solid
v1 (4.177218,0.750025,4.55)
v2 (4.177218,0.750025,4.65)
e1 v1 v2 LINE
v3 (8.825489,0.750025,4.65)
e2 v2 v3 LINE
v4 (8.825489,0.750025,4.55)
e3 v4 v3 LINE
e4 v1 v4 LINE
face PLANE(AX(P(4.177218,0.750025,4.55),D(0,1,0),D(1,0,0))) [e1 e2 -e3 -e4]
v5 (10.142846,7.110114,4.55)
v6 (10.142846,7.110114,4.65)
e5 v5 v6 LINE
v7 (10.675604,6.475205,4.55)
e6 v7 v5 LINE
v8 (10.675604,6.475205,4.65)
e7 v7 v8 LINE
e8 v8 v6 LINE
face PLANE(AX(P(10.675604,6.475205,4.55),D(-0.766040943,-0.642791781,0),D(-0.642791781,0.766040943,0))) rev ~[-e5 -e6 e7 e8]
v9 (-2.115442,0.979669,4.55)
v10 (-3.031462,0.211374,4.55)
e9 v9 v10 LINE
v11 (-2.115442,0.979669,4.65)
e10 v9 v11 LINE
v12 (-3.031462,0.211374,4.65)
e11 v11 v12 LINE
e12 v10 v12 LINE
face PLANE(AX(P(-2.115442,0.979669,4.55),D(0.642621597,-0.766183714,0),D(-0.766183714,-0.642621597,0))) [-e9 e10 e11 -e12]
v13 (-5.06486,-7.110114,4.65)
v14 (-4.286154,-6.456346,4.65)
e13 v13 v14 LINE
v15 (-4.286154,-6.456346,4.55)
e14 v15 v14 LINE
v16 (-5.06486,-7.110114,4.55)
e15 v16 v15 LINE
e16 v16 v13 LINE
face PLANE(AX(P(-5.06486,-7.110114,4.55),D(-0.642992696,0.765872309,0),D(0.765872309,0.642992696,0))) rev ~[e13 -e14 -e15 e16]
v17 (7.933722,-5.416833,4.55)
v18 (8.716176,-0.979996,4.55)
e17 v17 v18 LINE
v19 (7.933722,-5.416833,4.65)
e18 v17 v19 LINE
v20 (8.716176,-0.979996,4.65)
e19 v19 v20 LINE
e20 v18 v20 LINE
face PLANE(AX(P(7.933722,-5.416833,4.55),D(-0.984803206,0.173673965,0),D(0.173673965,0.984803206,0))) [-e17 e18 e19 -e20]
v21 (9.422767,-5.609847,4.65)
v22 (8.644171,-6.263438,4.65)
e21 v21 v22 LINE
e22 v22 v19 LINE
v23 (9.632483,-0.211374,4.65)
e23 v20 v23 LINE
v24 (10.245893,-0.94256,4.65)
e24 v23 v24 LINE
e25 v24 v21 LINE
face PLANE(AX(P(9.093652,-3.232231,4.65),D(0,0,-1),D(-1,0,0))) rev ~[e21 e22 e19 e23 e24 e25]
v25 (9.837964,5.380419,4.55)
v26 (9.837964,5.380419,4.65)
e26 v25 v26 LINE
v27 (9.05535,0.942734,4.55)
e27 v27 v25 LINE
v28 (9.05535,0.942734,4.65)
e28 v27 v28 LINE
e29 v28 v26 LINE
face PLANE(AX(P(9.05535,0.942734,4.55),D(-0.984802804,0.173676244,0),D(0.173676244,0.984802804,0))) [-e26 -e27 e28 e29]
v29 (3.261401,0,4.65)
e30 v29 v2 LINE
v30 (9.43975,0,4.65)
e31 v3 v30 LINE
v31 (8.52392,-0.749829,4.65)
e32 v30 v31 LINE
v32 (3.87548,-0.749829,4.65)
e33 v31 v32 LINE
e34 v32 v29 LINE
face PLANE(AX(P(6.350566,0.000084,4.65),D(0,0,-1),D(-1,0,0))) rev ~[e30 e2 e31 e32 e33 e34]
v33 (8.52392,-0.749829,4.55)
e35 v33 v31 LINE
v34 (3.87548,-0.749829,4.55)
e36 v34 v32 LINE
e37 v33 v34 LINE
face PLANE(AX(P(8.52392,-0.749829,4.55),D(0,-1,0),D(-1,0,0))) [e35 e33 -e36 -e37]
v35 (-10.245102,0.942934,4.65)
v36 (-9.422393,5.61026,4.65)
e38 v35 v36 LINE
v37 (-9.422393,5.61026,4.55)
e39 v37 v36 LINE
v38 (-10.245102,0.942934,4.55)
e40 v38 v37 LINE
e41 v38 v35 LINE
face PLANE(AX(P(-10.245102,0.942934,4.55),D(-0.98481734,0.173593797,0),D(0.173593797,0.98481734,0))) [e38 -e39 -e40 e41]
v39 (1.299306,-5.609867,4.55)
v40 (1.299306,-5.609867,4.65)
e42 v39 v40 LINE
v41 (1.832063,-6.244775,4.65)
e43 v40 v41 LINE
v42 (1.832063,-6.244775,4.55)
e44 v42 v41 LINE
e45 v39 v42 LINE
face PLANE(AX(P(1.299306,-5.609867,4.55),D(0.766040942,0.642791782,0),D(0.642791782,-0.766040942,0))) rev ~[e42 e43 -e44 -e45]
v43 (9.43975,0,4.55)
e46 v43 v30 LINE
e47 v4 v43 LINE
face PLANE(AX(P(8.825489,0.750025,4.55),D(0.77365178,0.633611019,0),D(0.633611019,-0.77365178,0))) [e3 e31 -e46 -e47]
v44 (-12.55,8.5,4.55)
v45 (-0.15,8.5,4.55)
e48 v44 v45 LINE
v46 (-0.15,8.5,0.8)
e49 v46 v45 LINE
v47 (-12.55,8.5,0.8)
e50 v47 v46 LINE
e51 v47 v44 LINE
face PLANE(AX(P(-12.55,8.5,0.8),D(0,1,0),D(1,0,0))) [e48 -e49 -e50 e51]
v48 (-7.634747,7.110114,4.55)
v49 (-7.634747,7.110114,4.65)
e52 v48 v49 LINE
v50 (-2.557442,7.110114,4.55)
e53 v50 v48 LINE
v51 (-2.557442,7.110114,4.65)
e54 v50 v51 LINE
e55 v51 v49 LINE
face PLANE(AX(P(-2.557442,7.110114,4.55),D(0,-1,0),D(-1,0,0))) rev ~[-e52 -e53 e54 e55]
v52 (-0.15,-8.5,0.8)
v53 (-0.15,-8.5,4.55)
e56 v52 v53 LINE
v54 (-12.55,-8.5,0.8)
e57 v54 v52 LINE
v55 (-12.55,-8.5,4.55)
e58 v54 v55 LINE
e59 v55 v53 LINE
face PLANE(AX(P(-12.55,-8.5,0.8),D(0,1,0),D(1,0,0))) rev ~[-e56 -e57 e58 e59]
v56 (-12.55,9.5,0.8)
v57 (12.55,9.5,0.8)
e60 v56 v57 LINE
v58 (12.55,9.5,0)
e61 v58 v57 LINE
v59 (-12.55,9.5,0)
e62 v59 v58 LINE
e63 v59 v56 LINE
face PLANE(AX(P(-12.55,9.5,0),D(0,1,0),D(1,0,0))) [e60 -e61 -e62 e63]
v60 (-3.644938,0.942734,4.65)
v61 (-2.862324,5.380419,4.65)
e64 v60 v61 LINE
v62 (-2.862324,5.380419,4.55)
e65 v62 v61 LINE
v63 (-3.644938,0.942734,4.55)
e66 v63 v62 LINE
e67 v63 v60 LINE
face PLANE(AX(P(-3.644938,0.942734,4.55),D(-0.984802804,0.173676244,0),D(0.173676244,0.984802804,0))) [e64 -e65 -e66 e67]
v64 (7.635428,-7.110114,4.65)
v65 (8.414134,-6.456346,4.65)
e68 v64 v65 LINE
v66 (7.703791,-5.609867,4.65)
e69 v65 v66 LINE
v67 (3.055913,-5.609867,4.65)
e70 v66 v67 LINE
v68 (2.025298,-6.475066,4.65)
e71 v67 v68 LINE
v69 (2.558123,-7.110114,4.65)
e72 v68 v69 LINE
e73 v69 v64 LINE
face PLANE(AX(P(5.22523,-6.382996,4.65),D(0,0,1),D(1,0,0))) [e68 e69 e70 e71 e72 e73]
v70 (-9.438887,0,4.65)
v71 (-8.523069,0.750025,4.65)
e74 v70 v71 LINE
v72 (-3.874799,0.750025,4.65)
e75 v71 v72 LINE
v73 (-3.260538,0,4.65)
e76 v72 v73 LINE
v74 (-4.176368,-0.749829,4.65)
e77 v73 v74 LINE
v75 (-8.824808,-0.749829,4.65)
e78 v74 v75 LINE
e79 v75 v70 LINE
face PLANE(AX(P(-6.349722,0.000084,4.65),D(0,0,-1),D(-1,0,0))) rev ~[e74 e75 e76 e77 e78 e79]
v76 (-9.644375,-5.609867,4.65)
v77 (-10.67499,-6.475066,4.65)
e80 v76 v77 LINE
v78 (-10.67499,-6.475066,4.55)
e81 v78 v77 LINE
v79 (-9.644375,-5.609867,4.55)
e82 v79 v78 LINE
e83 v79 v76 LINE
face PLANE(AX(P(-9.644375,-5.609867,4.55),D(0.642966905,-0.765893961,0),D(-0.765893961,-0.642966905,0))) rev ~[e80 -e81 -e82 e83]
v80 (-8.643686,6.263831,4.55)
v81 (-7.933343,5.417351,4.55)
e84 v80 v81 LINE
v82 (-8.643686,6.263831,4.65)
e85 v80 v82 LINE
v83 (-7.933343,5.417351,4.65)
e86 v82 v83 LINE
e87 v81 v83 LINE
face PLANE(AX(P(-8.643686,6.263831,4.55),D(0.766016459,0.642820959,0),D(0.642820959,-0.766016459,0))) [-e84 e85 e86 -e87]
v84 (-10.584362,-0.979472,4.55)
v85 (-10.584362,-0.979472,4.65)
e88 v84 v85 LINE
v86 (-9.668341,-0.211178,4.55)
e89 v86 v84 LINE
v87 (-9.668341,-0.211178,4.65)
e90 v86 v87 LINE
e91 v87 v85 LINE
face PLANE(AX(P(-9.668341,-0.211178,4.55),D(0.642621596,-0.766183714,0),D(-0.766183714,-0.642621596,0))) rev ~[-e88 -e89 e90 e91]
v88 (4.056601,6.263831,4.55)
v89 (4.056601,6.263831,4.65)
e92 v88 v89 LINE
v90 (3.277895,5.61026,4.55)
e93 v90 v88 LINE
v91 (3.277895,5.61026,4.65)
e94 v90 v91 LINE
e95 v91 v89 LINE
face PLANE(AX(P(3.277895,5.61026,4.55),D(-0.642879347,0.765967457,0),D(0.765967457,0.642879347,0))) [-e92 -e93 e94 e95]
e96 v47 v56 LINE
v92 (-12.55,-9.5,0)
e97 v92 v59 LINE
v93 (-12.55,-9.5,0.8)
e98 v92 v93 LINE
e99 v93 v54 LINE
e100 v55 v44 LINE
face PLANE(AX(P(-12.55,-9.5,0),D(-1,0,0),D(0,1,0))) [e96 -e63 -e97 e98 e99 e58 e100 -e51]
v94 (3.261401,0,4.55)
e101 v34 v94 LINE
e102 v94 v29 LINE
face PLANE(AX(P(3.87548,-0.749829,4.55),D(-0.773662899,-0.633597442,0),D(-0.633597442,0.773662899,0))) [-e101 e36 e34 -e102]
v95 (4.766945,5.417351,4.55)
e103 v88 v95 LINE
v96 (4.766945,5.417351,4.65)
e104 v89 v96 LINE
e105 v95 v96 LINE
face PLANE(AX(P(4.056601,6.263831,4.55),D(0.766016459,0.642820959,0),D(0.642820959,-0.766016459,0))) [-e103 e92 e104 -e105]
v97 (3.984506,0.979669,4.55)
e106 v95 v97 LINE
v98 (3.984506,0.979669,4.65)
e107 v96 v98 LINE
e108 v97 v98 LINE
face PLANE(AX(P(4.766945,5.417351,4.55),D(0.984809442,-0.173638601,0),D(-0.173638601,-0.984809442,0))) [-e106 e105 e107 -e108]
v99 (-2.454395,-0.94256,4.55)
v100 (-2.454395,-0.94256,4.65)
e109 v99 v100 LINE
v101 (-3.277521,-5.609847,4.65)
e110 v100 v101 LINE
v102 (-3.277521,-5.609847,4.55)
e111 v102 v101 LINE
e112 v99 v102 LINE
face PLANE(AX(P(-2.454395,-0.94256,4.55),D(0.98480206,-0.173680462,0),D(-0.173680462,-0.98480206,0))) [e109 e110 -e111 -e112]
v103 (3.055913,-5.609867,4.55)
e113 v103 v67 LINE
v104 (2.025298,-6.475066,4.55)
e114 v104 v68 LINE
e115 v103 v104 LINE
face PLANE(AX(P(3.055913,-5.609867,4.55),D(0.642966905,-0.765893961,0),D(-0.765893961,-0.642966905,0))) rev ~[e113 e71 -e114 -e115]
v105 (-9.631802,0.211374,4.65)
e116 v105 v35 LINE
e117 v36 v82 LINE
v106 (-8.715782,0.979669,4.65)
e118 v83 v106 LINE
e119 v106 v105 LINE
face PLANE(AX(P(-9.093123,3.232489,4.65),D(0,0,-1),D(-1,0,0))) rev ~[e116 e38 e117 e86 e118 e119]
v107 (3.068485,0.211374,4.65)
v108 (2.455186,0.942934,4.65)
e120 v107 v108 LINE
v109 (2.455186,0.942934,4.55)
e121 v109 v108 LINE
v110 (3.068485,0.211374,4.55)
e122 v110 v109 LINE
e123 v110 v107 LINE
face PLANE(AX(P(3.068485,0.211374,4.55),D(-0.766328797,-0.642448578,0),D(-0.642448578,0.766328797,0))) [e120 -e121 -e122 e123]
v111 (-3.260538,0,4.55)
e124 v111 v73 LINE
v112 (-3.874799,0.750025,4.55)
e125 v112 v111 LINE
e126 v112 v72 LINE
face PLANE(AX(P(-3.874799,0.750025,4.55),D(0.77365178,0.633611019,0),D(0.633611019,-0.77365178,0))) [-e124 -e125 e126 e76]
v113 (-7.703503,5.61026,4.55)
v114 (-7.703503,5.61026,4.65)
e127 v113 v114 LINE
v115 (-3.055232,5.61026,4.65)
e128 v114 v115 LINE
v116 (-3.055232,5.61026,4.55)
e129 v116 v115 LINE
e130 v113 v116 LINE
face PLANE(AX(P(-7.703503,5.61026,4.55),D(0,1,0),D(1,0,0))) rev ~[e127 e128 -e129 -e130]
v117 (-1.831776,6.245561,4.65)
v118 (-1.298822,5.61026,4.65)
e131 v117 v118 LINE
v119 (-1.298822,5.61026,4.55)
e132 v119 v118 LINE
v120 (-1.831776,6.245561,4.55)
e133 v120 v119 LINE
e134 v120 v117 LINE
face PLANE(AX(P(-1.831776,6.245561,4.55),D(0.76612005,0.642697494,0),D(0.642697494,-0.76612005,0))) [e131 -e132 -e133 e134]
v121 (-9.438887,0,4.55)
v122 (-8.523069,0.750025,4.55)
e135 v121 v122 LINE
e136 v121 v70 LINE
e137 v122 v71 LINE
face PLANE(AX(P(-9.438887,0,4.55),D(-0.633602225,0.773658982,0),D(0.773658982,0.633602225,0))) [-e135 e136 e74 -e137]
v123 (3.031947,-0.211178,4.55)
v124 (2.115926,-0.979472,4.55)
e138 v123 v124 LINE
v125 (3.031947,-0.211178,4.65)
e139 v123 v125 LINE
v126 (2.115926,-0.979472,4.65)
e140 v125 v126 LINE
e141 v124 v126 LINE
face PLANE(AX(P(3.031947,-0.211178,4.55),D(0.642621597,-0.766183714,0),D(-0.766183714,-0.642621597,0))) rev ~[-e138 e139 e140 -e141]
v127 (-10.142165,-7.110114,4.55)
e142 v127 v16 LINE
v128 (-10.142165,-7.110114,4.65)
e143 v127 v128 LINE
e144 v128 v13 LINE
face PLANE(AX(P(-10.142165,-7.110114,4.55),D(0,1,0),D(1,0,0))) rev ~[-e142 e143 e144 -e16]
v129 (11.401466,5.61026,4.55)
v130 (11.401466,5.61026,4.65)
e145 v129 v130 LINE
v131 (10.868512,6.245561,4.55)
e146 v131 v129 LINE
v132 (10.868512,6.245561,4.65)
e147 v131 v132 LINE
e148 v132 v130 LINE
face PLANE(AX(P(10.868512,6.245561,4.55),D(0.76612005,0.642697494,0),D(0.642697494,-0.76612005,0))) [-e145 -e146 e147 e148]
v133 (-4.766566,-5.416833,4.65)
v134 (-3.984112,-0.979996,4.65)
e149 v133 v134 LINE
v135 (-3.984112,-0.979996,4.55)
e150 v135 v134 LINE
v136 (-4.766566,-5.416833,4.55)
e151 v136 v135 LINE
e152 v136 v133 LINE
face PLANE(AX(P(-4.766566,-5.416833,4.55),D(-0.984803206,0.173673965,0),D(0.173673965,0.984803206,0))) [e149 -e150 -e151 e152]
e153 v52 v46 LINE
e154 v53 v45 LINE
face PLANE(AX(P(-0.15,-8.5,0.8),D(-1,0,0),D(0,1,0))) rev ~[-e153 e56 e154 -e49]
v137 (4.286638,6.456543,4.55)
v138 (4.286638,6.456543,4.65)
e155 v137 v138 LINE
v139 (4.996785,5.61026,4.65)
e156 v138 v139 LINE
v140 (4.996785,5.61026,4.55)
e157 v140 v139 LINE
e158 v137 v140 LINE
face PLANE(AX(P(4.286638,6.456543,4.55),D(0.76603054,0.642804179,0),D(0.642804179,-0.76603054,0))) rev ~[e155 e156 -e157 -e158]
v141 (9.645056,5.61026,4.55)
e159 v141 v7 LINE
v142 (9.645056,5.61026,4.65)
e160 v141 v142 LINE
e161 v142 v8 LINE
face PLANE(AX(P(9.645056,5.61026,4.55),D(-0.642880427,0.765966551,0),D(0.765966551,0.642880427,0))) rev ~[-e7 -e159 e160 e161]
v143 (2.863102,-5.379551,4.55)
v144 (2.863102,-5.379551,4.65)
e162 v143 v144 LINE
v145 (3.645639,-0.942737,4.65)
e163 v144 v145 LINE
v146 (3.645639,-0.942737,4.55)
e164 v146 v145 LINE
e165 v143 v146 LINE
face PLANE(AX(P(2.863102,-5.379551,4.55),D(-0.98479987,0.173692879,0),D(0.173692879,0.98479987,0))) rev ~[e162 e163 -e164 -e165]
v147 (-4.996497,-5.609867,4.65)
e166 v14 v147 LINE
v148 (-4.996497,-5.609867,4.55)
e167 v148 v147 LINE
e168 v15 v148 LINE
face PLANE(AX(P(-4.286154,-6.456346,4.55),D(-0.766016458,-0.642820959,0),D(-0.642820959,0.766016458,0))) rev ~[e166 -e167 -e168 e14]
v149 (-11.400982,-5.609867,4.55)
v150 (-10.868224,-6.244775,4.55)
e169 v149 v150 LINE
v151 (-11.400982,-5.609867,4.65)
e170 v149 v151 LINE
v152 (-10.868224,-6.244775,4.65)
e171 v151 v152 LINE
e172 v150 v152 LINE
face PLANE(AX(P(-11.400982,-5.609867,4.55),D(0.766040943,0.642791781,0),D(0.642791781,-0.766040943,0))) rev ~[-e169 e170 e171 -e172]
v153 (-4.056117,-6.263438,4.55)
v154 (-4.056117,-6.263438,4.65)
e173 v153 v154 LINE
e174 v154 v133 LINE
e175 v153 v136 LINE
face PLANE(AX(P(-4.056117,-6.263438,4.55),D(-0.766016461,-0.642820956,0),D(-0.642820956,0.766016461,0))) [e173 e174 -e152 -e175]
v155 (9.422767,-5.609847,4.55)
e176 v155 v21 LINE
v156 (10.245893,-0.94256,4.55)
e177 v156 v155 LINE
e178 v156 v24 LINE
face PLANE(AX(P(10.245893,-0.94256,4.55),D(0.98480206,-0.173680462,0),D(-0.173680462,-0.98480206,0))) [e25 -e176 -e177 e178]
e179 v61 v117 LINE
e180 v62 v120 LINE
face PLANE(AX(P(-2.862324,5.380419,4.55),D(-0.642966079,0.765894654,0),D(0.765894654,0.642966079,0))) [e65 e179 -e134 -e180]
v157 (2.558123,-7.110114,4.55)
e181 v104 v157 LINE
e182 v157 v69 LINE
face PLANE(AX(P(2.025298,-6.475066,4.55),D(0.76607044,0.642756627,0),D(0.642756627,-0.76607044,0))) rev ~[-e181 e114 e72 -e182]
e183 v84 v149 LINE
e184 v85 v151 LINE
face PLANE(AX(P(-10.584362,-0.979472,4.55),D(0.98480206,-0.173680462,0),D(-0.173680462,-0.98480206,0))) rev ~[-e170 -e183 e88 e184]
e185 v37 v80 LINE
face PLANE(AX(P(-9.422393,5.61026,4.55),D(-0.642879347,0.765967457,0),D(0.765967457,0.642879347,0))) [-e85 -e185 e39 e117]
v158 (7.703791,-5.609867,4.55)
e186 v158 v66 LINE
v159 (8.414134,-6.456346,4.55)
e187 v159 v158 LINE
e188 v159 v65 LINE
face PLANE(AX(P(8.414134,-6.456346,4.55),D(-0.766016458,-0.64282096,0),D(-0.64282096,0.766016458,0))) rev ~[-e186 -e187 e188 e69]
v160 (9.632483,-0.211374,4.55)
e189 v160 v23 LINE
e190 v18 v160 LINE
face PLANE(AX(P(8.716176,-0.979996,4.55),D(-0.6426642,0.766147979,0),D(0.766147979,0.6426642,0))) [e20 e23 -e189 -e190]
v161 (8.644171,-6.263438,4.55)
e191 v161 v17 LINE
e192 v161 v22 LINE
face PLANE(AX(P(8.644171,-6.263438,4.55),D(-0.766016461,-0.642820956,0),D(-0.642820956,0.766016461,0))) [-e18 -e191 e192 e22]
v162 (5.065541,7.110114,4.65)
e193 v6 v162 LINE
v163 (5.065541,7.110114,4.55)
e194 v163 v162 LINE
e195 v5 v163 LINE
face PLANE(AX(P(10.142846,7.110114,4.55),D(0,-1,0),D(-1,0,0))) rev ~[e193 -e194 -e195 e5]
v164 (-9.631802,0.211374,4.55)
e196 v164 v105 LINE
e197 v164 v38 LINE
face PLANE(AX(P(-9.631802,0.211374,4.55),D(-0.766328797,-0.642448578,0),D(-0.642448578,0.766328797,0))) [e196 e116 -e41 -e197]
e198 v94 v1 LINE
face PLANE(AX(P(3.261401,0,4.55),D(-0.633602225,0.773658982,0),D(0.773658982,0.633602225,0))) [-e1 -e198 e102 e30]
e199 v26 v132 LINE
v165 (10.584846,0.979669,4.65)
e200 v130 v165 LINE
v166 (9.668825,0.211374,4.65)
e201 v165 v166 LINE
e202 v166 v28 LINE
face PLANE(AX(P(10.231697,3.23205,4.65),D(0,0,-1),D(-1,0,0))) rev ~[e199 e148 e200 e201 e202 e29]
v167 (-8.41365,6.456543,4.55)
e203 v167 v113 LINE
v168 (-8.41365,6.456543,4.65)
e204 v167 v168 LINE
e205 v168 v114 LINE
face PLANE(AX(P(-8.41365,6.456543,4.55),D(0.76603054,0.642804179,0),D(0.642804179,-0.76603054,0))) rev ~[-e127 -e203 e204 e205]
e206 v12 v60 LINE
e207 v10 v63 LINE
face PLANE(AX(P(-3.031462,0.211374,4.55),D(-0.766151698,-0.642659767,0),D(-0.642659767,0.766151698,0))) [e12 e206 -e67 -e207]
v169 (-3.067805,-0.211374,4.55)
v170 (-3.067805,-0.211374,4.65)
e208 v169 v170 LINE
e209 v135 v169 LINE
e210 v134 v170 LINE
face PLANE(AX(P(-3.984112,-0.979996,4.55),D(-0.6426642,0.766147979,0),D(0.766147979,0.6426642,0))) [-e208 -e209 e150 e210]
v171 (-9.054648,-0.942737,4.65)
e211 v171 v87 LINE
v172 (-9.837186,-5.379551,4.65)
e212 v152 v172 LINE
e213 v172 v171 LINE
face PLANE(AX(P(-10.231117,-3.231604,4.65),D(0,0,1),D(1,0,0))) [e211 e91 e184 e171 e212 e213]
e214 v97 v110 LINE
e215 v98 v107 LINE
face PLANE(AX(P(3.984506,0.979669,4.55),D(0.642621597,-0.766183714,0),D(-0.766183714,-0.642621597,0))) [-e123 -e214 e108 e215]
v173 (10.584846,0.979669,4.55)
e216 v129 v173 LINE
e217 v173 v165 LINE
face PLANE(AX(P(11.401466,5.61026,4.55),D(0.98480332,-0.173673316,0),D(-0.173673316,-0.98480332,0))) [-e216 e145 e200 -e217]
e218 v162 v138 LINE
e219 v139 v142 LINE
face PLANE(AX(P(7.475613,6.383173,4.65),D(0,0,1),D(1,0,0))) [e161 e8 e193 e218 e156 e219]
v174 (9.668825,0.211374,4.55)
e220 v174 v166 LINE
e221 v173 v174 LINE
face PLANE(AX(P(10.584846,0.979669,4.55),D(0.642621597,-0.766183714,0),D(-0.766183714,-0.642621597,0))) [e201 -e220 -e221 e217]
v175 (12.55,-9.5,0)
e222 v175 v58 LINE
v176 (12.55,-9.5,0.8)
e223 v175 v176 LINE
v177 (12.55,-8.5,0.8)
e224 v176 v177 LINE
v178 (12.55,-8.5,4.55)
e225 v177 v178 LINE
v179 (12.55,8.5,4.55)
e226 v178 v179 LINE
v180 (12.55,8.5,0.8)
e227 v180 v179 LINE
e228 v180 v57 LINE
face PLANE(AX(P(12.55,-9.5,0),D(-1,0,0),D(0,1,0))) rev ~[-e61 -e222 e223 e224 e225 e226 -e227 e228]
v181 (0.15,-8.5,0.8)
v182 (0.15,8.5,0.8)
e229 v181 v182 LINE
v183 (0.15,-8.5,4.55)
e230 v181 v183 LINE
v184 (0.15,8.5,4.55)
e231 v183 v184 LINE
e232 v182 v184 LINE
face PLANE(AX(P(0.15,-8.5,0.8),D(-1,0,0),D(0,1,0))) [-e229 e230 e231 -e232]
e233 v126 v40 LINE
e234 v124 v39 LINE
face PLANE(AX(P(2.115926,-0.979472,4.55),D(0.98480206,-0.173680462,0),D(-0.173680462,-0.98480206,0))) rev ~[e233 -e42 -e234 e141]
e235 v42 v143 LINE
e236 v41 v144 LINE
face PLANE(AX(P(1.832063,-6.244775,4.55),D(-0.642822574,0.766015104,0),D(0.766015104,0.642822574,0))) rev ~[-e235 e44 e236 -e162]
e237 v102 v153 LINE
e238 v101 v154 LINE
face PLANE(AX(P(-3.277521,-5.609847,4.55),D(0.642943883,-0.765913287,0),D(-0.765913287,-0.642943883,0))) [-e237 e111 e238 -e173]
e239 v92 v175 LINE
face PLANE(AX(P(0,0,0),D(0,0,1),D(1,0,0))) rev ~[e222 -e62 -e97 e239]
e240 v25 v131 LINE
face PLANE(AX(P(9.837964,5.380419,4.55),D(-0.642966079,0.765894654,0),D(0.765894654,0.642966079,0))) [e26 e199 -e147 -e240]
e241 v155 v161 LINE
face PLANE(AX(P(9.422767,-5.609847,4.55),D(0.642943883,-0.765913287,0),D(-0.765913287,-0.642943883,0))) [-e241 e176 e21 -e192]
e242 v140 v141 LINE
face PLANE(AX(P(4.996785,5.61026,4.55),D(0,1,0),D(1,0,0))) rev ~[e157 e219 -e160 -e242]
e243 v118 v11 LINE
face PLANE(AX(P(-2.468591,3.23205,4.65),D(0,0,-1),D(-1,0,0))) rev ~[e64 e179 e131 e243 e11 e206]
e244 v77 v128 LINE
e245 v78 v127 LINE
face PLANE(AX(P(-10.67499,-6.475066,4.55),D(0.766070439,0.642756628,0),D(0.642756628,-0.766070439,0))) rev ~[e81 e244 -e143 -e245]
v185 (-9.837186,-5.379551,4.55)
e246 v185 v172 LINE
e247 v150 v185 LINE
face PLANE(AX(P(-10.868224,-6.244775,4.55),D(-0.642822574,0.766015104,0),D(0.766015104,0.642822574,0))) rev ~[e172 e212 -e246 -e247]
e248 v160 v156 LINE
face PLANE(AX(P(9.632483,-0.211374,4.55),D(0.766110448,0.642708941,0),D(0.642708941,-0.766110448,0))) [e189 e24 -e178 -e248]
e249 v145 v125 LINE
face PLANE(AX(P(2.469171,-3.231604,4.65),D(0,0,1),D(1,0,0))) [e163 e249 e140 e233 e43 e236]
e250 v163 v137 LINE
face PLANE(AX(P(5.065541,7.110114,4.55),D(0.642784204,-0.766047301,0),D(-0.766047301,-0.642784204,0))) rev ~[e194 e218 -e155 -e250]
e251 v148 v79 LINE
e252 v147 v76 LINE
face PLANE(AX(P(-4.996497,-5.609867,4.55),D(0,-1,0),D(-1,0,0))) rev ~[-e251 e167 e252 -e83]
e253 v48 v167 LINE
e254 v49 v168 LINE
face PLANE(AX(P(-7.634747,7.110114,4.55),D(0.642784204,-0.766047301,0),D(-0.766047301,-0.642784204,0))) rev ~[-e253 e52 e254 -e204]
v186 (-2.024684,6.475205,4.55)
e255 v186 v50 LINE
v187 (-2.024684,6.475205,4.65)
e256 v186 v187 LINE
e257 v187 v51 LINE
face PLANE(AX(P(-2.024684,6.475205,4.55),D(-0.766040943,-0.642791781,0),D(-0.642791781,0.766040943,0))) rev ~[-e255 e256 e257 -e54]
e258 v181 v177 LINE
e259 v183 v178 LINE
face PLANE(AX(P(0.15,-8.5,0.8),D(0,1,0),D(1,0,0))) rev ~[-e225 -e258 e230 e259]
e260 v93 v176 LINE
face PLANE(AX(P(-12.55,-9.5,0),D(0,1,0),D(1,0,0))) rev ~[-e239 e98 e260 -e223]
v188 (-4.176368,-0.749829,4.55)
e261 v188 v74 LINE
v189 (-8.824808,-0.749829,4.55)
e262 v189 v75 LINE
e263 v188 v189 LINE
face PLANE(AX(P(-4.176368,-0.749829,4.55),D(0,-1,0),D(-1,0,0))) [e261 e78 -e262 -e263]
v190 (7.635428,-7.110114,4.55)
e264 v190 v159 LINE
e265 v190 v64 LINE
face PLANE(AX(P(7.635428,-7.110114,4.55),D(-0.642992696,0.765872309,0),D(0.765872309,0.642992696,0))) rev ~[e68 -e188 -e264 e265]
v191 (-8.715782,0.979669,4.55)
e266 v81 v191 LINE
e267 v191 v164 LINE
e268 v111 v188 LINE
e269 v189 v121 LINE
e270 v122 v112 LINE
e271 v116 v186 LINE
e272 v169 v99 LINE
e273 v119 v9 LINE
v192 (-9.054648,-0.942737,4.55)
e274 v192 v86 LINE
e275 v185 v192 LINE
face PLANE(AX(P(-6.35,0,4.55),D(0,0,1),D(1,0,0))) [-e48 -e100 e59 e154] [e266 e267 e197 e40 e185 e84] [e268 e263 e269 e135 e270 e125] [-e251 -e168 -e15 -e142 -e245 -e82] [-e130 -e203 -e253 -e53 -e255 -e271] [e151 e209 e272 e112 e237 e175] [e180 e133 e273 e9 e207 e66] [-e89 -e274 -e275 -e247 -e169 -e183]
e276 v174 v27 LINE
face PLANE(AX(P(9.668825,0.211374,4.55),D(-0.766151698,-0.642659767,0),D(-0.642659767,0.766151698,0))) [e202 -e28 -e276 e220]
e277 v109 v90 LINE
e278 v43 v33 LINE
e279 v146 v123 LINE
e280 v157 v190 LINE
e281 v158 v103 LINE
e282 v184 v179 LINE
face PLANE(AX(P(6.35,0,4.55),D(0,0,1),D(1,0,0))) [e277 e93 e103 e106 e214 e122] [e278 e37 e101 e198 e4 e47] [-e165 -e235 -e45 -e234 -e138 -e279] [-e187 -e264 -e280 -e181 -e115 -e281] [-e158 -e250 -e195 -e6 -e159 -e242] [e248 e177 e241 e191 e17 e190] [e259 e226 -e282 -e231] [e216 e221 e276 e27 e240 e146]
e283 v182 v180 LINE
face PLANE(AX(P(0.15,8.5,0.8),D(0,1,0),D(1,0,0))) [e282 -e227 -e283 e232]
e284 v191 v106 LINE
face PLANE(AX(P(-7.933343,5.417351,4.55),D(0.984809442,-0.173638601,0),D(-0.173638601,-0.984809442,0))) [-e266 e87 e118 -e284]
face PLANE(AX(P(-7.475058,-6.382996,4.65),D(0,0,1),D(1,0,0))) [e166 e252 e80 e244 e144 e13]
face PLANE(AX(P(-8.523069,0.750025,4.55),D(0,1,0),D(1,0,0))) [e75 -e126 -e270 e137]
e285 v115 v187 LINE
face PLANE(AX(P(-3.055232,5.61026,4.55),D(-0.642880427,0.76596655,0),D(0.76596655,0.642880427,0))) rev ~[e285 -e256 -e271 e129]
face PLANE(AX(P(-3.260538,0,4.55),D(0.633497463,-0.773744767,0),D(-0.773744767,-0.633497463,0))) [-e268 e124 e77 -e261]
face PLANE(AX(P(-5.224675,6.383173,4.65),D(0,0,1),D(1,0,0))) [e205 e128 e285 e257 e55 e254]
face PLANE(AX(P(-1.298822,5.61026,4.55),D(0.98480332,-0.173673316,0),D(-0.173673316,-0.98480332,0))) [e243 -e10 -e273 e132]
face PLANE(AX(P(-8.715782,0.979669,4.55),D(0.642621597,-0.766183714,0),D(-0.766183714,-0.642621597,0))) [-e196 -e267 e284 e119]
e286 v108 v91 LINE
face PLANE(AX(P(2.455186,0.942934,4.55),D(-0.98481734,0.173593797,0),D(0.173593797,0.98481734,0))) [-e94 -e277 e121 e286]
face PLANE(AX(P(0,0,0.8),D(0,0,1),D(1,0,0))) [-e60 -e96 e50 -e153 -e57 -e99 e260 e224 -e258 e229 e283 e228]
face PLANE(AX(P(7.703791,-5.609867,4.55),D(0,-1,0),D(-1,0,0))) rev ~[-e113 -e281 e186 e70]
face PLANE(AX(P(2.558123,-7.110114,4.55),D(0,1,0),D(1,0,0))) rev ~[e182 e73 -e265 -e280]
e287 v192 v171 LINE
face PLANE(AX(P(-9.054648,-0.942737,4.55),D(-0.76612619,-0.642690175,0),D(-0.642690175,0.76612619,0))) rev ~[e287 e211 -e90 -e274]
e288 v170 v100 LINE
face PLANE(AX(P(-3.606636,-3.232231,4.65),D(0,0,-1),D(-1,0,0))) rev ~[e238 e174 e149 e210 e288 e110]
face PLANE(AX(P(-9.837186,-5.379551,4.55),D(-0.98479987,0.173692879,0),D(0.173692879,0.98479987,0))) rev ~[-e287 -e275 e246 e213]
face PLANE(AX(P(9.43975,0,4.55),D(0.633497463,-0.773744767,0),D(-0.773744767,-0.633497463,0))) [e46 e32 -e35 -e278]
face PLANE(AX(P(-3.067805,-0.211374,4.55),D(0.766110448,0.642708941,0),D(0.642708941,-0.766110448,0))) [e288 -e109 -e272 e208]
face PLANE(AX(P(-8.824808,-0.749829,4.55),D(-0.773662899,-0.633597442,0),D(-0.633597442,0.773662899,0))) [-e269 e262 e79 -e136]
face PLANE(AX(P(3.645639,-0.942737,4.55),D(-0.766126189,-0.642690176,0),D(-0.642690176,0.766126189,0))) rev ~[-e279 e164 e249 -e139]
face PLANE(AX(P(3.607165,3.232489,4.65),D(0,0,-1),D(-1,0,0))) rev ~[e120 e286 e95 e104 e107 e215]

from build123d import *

# Parameters (mm, degrees)
SKETCH_1_W      = 25.1
SKETCH_1_H      = 19
EXTRUDE_1_DEPTH = 0.8
SKETCH_2_W      = 12.4
SKETCH_2_H      = 17
EXTRUDE_2_DEPTH = 3.75
EXTRUDE_3_DEPTH = 0.1


with BuildPart() as part:
    # Эскиз1 → Бобышка-Вытянуть1 (new body)
    with BuildSketch(Plane.XY):
        Rectangle(SKETCH_1_W, SKETCH_1_H)
    extrude(amount=EXTRUDE_1_DEPTH)

    # Эскиз2 → Бобышка-Вытянуть2 (add)
    with BuildSketch(Plane.XY.offset(0.8)):
        with Locations((-6.35, 0)):
            Rectangle(SKETCH_2_W, SKETCH_2_H)
        with Locations((6.35, 0)):
            Rectangle(SKETCH_2_W, SKETCH_2_H)
    extrude(amount=EXTRUDE_2_DEPTH)

    # Эскиз3 → Бобышка-Вытянуть3 (add)
    with BuildSketch(Plane.XY.offset(4.55)):
        Polygon((-2.02468415, 6.47520488), (-2.557441739, 7.110113629), (-7.634747282, 7.110113629), (-8.413649878, 6.456542649), (-7.703502871, 5.610259577), (-3.055232199, 5.610259577), align=None)
        Polygon((-1.29882158, 5.610259577), (-2.115441527, 0.979668914), (-3.03146241, 0.211374323), (-3.644937808, 0.942733655), (-2.862323662, 5.380419467), (-1.831775613, 6.245561214), align=None)
        Polygon((-7.933342981, 5.41735104), (-8.715781578, 0.979668914), (-9.631802461, 0.211374323), (-10.245102311, 0.942933785), (-9.422392583, 5.610259577), (-8.643686432, 6.263830557), align=None)
        Polygon((-8.523069486, 0.750025248), (-3.874798814, 0.750025248), (-3.260537626, 0), (-4.176367833, -0.749828804), (-8.824808297, -0.749828804), (-9.438886615, 0), align=None)
        Polygon((-3.984111693, -0.979995723), (-3.06780465, -0.211374323), (-2.454394697, -0.942560314), (-3.277521077, -5.609847275), (-4.056117123, -6.263437667), (-4.766565605, -5.416832984), align=None)
        Polygon((-9.054648407, -0.942737341), (-9.668341145, -0.211177879), (-10.584362029, -0.979472469), (-11.400981975, -5.609866688), (-10.868224387, -6.244775436), (-9.837186085, -5.37955138), align=None)
        Polygon((-4.996497129, -5.609866688), (-9.644374912, -5.609866688), (-10.674989606, -6.475066276), (-10.142165372, -7.110113629), (-5.064859829, -7.110113629), (-4.286153678, -6.456346204), align=None)
        Polygon((10.67560373, 6.47520488), (10.142846141, 7.110113629), (5.065540598, 7.110113629), (4.286638002, 6.456542649), (4.996785009, 5.610259577), (9.64505568, 5.610259577), align=None)
        Polygon((11.4014663, 5.610259577), (10.584846353, 0.979668914), (9.66882547, 0.211374323), (9.055350072, 0.942733655), (9.837964217, 5.380419467), (10.868512267, 6.245561214), align=None)
        Polygon((4.766944899, 5.41735104), (3.984506302, 0.979668914), (3.068485419, 0.211374323), (2.455185569, 0.942933785), (3.277895297, 5.610259577), (4.056601448, 6.263830557), align=None)
        Polygon((4.177218394, 0.750025248), (8.825489066, 0.750025248), (9.439750254, 0), (8.523920047, -0.749828804), (3.875479583, -0.749828804), (3.261401265, 0), align=None)
        Polygon((8.716176187, -0.979995723), (9.63248323, -0.211374323), (10.245893183, -0.942560314), (9.422766803, -5.609847275), (8.644170756, -6.263437667), (7.933722275, -5.416832984), align=None)
        Polygon((3.645639473, -0.942737341), (3.031946734, -0.211177879), (2.115925851, -0.979472469), (1.299305904, -5.609866688), (1.832063493, -6.244775436), (2.863101795, -5.37955138), align=None)
        Polygon((7.70379075, -5.609866688), (3.055912968, -5.609866688), (2.025298274, -6.475066276), (2.558122507, -7.110113629), (7.635428051, -7.110113629), (8.414134202, -6.456346204), align=None)
    extrude(amount=EXTRUDE_3_DEPTH)


solid = part.part
